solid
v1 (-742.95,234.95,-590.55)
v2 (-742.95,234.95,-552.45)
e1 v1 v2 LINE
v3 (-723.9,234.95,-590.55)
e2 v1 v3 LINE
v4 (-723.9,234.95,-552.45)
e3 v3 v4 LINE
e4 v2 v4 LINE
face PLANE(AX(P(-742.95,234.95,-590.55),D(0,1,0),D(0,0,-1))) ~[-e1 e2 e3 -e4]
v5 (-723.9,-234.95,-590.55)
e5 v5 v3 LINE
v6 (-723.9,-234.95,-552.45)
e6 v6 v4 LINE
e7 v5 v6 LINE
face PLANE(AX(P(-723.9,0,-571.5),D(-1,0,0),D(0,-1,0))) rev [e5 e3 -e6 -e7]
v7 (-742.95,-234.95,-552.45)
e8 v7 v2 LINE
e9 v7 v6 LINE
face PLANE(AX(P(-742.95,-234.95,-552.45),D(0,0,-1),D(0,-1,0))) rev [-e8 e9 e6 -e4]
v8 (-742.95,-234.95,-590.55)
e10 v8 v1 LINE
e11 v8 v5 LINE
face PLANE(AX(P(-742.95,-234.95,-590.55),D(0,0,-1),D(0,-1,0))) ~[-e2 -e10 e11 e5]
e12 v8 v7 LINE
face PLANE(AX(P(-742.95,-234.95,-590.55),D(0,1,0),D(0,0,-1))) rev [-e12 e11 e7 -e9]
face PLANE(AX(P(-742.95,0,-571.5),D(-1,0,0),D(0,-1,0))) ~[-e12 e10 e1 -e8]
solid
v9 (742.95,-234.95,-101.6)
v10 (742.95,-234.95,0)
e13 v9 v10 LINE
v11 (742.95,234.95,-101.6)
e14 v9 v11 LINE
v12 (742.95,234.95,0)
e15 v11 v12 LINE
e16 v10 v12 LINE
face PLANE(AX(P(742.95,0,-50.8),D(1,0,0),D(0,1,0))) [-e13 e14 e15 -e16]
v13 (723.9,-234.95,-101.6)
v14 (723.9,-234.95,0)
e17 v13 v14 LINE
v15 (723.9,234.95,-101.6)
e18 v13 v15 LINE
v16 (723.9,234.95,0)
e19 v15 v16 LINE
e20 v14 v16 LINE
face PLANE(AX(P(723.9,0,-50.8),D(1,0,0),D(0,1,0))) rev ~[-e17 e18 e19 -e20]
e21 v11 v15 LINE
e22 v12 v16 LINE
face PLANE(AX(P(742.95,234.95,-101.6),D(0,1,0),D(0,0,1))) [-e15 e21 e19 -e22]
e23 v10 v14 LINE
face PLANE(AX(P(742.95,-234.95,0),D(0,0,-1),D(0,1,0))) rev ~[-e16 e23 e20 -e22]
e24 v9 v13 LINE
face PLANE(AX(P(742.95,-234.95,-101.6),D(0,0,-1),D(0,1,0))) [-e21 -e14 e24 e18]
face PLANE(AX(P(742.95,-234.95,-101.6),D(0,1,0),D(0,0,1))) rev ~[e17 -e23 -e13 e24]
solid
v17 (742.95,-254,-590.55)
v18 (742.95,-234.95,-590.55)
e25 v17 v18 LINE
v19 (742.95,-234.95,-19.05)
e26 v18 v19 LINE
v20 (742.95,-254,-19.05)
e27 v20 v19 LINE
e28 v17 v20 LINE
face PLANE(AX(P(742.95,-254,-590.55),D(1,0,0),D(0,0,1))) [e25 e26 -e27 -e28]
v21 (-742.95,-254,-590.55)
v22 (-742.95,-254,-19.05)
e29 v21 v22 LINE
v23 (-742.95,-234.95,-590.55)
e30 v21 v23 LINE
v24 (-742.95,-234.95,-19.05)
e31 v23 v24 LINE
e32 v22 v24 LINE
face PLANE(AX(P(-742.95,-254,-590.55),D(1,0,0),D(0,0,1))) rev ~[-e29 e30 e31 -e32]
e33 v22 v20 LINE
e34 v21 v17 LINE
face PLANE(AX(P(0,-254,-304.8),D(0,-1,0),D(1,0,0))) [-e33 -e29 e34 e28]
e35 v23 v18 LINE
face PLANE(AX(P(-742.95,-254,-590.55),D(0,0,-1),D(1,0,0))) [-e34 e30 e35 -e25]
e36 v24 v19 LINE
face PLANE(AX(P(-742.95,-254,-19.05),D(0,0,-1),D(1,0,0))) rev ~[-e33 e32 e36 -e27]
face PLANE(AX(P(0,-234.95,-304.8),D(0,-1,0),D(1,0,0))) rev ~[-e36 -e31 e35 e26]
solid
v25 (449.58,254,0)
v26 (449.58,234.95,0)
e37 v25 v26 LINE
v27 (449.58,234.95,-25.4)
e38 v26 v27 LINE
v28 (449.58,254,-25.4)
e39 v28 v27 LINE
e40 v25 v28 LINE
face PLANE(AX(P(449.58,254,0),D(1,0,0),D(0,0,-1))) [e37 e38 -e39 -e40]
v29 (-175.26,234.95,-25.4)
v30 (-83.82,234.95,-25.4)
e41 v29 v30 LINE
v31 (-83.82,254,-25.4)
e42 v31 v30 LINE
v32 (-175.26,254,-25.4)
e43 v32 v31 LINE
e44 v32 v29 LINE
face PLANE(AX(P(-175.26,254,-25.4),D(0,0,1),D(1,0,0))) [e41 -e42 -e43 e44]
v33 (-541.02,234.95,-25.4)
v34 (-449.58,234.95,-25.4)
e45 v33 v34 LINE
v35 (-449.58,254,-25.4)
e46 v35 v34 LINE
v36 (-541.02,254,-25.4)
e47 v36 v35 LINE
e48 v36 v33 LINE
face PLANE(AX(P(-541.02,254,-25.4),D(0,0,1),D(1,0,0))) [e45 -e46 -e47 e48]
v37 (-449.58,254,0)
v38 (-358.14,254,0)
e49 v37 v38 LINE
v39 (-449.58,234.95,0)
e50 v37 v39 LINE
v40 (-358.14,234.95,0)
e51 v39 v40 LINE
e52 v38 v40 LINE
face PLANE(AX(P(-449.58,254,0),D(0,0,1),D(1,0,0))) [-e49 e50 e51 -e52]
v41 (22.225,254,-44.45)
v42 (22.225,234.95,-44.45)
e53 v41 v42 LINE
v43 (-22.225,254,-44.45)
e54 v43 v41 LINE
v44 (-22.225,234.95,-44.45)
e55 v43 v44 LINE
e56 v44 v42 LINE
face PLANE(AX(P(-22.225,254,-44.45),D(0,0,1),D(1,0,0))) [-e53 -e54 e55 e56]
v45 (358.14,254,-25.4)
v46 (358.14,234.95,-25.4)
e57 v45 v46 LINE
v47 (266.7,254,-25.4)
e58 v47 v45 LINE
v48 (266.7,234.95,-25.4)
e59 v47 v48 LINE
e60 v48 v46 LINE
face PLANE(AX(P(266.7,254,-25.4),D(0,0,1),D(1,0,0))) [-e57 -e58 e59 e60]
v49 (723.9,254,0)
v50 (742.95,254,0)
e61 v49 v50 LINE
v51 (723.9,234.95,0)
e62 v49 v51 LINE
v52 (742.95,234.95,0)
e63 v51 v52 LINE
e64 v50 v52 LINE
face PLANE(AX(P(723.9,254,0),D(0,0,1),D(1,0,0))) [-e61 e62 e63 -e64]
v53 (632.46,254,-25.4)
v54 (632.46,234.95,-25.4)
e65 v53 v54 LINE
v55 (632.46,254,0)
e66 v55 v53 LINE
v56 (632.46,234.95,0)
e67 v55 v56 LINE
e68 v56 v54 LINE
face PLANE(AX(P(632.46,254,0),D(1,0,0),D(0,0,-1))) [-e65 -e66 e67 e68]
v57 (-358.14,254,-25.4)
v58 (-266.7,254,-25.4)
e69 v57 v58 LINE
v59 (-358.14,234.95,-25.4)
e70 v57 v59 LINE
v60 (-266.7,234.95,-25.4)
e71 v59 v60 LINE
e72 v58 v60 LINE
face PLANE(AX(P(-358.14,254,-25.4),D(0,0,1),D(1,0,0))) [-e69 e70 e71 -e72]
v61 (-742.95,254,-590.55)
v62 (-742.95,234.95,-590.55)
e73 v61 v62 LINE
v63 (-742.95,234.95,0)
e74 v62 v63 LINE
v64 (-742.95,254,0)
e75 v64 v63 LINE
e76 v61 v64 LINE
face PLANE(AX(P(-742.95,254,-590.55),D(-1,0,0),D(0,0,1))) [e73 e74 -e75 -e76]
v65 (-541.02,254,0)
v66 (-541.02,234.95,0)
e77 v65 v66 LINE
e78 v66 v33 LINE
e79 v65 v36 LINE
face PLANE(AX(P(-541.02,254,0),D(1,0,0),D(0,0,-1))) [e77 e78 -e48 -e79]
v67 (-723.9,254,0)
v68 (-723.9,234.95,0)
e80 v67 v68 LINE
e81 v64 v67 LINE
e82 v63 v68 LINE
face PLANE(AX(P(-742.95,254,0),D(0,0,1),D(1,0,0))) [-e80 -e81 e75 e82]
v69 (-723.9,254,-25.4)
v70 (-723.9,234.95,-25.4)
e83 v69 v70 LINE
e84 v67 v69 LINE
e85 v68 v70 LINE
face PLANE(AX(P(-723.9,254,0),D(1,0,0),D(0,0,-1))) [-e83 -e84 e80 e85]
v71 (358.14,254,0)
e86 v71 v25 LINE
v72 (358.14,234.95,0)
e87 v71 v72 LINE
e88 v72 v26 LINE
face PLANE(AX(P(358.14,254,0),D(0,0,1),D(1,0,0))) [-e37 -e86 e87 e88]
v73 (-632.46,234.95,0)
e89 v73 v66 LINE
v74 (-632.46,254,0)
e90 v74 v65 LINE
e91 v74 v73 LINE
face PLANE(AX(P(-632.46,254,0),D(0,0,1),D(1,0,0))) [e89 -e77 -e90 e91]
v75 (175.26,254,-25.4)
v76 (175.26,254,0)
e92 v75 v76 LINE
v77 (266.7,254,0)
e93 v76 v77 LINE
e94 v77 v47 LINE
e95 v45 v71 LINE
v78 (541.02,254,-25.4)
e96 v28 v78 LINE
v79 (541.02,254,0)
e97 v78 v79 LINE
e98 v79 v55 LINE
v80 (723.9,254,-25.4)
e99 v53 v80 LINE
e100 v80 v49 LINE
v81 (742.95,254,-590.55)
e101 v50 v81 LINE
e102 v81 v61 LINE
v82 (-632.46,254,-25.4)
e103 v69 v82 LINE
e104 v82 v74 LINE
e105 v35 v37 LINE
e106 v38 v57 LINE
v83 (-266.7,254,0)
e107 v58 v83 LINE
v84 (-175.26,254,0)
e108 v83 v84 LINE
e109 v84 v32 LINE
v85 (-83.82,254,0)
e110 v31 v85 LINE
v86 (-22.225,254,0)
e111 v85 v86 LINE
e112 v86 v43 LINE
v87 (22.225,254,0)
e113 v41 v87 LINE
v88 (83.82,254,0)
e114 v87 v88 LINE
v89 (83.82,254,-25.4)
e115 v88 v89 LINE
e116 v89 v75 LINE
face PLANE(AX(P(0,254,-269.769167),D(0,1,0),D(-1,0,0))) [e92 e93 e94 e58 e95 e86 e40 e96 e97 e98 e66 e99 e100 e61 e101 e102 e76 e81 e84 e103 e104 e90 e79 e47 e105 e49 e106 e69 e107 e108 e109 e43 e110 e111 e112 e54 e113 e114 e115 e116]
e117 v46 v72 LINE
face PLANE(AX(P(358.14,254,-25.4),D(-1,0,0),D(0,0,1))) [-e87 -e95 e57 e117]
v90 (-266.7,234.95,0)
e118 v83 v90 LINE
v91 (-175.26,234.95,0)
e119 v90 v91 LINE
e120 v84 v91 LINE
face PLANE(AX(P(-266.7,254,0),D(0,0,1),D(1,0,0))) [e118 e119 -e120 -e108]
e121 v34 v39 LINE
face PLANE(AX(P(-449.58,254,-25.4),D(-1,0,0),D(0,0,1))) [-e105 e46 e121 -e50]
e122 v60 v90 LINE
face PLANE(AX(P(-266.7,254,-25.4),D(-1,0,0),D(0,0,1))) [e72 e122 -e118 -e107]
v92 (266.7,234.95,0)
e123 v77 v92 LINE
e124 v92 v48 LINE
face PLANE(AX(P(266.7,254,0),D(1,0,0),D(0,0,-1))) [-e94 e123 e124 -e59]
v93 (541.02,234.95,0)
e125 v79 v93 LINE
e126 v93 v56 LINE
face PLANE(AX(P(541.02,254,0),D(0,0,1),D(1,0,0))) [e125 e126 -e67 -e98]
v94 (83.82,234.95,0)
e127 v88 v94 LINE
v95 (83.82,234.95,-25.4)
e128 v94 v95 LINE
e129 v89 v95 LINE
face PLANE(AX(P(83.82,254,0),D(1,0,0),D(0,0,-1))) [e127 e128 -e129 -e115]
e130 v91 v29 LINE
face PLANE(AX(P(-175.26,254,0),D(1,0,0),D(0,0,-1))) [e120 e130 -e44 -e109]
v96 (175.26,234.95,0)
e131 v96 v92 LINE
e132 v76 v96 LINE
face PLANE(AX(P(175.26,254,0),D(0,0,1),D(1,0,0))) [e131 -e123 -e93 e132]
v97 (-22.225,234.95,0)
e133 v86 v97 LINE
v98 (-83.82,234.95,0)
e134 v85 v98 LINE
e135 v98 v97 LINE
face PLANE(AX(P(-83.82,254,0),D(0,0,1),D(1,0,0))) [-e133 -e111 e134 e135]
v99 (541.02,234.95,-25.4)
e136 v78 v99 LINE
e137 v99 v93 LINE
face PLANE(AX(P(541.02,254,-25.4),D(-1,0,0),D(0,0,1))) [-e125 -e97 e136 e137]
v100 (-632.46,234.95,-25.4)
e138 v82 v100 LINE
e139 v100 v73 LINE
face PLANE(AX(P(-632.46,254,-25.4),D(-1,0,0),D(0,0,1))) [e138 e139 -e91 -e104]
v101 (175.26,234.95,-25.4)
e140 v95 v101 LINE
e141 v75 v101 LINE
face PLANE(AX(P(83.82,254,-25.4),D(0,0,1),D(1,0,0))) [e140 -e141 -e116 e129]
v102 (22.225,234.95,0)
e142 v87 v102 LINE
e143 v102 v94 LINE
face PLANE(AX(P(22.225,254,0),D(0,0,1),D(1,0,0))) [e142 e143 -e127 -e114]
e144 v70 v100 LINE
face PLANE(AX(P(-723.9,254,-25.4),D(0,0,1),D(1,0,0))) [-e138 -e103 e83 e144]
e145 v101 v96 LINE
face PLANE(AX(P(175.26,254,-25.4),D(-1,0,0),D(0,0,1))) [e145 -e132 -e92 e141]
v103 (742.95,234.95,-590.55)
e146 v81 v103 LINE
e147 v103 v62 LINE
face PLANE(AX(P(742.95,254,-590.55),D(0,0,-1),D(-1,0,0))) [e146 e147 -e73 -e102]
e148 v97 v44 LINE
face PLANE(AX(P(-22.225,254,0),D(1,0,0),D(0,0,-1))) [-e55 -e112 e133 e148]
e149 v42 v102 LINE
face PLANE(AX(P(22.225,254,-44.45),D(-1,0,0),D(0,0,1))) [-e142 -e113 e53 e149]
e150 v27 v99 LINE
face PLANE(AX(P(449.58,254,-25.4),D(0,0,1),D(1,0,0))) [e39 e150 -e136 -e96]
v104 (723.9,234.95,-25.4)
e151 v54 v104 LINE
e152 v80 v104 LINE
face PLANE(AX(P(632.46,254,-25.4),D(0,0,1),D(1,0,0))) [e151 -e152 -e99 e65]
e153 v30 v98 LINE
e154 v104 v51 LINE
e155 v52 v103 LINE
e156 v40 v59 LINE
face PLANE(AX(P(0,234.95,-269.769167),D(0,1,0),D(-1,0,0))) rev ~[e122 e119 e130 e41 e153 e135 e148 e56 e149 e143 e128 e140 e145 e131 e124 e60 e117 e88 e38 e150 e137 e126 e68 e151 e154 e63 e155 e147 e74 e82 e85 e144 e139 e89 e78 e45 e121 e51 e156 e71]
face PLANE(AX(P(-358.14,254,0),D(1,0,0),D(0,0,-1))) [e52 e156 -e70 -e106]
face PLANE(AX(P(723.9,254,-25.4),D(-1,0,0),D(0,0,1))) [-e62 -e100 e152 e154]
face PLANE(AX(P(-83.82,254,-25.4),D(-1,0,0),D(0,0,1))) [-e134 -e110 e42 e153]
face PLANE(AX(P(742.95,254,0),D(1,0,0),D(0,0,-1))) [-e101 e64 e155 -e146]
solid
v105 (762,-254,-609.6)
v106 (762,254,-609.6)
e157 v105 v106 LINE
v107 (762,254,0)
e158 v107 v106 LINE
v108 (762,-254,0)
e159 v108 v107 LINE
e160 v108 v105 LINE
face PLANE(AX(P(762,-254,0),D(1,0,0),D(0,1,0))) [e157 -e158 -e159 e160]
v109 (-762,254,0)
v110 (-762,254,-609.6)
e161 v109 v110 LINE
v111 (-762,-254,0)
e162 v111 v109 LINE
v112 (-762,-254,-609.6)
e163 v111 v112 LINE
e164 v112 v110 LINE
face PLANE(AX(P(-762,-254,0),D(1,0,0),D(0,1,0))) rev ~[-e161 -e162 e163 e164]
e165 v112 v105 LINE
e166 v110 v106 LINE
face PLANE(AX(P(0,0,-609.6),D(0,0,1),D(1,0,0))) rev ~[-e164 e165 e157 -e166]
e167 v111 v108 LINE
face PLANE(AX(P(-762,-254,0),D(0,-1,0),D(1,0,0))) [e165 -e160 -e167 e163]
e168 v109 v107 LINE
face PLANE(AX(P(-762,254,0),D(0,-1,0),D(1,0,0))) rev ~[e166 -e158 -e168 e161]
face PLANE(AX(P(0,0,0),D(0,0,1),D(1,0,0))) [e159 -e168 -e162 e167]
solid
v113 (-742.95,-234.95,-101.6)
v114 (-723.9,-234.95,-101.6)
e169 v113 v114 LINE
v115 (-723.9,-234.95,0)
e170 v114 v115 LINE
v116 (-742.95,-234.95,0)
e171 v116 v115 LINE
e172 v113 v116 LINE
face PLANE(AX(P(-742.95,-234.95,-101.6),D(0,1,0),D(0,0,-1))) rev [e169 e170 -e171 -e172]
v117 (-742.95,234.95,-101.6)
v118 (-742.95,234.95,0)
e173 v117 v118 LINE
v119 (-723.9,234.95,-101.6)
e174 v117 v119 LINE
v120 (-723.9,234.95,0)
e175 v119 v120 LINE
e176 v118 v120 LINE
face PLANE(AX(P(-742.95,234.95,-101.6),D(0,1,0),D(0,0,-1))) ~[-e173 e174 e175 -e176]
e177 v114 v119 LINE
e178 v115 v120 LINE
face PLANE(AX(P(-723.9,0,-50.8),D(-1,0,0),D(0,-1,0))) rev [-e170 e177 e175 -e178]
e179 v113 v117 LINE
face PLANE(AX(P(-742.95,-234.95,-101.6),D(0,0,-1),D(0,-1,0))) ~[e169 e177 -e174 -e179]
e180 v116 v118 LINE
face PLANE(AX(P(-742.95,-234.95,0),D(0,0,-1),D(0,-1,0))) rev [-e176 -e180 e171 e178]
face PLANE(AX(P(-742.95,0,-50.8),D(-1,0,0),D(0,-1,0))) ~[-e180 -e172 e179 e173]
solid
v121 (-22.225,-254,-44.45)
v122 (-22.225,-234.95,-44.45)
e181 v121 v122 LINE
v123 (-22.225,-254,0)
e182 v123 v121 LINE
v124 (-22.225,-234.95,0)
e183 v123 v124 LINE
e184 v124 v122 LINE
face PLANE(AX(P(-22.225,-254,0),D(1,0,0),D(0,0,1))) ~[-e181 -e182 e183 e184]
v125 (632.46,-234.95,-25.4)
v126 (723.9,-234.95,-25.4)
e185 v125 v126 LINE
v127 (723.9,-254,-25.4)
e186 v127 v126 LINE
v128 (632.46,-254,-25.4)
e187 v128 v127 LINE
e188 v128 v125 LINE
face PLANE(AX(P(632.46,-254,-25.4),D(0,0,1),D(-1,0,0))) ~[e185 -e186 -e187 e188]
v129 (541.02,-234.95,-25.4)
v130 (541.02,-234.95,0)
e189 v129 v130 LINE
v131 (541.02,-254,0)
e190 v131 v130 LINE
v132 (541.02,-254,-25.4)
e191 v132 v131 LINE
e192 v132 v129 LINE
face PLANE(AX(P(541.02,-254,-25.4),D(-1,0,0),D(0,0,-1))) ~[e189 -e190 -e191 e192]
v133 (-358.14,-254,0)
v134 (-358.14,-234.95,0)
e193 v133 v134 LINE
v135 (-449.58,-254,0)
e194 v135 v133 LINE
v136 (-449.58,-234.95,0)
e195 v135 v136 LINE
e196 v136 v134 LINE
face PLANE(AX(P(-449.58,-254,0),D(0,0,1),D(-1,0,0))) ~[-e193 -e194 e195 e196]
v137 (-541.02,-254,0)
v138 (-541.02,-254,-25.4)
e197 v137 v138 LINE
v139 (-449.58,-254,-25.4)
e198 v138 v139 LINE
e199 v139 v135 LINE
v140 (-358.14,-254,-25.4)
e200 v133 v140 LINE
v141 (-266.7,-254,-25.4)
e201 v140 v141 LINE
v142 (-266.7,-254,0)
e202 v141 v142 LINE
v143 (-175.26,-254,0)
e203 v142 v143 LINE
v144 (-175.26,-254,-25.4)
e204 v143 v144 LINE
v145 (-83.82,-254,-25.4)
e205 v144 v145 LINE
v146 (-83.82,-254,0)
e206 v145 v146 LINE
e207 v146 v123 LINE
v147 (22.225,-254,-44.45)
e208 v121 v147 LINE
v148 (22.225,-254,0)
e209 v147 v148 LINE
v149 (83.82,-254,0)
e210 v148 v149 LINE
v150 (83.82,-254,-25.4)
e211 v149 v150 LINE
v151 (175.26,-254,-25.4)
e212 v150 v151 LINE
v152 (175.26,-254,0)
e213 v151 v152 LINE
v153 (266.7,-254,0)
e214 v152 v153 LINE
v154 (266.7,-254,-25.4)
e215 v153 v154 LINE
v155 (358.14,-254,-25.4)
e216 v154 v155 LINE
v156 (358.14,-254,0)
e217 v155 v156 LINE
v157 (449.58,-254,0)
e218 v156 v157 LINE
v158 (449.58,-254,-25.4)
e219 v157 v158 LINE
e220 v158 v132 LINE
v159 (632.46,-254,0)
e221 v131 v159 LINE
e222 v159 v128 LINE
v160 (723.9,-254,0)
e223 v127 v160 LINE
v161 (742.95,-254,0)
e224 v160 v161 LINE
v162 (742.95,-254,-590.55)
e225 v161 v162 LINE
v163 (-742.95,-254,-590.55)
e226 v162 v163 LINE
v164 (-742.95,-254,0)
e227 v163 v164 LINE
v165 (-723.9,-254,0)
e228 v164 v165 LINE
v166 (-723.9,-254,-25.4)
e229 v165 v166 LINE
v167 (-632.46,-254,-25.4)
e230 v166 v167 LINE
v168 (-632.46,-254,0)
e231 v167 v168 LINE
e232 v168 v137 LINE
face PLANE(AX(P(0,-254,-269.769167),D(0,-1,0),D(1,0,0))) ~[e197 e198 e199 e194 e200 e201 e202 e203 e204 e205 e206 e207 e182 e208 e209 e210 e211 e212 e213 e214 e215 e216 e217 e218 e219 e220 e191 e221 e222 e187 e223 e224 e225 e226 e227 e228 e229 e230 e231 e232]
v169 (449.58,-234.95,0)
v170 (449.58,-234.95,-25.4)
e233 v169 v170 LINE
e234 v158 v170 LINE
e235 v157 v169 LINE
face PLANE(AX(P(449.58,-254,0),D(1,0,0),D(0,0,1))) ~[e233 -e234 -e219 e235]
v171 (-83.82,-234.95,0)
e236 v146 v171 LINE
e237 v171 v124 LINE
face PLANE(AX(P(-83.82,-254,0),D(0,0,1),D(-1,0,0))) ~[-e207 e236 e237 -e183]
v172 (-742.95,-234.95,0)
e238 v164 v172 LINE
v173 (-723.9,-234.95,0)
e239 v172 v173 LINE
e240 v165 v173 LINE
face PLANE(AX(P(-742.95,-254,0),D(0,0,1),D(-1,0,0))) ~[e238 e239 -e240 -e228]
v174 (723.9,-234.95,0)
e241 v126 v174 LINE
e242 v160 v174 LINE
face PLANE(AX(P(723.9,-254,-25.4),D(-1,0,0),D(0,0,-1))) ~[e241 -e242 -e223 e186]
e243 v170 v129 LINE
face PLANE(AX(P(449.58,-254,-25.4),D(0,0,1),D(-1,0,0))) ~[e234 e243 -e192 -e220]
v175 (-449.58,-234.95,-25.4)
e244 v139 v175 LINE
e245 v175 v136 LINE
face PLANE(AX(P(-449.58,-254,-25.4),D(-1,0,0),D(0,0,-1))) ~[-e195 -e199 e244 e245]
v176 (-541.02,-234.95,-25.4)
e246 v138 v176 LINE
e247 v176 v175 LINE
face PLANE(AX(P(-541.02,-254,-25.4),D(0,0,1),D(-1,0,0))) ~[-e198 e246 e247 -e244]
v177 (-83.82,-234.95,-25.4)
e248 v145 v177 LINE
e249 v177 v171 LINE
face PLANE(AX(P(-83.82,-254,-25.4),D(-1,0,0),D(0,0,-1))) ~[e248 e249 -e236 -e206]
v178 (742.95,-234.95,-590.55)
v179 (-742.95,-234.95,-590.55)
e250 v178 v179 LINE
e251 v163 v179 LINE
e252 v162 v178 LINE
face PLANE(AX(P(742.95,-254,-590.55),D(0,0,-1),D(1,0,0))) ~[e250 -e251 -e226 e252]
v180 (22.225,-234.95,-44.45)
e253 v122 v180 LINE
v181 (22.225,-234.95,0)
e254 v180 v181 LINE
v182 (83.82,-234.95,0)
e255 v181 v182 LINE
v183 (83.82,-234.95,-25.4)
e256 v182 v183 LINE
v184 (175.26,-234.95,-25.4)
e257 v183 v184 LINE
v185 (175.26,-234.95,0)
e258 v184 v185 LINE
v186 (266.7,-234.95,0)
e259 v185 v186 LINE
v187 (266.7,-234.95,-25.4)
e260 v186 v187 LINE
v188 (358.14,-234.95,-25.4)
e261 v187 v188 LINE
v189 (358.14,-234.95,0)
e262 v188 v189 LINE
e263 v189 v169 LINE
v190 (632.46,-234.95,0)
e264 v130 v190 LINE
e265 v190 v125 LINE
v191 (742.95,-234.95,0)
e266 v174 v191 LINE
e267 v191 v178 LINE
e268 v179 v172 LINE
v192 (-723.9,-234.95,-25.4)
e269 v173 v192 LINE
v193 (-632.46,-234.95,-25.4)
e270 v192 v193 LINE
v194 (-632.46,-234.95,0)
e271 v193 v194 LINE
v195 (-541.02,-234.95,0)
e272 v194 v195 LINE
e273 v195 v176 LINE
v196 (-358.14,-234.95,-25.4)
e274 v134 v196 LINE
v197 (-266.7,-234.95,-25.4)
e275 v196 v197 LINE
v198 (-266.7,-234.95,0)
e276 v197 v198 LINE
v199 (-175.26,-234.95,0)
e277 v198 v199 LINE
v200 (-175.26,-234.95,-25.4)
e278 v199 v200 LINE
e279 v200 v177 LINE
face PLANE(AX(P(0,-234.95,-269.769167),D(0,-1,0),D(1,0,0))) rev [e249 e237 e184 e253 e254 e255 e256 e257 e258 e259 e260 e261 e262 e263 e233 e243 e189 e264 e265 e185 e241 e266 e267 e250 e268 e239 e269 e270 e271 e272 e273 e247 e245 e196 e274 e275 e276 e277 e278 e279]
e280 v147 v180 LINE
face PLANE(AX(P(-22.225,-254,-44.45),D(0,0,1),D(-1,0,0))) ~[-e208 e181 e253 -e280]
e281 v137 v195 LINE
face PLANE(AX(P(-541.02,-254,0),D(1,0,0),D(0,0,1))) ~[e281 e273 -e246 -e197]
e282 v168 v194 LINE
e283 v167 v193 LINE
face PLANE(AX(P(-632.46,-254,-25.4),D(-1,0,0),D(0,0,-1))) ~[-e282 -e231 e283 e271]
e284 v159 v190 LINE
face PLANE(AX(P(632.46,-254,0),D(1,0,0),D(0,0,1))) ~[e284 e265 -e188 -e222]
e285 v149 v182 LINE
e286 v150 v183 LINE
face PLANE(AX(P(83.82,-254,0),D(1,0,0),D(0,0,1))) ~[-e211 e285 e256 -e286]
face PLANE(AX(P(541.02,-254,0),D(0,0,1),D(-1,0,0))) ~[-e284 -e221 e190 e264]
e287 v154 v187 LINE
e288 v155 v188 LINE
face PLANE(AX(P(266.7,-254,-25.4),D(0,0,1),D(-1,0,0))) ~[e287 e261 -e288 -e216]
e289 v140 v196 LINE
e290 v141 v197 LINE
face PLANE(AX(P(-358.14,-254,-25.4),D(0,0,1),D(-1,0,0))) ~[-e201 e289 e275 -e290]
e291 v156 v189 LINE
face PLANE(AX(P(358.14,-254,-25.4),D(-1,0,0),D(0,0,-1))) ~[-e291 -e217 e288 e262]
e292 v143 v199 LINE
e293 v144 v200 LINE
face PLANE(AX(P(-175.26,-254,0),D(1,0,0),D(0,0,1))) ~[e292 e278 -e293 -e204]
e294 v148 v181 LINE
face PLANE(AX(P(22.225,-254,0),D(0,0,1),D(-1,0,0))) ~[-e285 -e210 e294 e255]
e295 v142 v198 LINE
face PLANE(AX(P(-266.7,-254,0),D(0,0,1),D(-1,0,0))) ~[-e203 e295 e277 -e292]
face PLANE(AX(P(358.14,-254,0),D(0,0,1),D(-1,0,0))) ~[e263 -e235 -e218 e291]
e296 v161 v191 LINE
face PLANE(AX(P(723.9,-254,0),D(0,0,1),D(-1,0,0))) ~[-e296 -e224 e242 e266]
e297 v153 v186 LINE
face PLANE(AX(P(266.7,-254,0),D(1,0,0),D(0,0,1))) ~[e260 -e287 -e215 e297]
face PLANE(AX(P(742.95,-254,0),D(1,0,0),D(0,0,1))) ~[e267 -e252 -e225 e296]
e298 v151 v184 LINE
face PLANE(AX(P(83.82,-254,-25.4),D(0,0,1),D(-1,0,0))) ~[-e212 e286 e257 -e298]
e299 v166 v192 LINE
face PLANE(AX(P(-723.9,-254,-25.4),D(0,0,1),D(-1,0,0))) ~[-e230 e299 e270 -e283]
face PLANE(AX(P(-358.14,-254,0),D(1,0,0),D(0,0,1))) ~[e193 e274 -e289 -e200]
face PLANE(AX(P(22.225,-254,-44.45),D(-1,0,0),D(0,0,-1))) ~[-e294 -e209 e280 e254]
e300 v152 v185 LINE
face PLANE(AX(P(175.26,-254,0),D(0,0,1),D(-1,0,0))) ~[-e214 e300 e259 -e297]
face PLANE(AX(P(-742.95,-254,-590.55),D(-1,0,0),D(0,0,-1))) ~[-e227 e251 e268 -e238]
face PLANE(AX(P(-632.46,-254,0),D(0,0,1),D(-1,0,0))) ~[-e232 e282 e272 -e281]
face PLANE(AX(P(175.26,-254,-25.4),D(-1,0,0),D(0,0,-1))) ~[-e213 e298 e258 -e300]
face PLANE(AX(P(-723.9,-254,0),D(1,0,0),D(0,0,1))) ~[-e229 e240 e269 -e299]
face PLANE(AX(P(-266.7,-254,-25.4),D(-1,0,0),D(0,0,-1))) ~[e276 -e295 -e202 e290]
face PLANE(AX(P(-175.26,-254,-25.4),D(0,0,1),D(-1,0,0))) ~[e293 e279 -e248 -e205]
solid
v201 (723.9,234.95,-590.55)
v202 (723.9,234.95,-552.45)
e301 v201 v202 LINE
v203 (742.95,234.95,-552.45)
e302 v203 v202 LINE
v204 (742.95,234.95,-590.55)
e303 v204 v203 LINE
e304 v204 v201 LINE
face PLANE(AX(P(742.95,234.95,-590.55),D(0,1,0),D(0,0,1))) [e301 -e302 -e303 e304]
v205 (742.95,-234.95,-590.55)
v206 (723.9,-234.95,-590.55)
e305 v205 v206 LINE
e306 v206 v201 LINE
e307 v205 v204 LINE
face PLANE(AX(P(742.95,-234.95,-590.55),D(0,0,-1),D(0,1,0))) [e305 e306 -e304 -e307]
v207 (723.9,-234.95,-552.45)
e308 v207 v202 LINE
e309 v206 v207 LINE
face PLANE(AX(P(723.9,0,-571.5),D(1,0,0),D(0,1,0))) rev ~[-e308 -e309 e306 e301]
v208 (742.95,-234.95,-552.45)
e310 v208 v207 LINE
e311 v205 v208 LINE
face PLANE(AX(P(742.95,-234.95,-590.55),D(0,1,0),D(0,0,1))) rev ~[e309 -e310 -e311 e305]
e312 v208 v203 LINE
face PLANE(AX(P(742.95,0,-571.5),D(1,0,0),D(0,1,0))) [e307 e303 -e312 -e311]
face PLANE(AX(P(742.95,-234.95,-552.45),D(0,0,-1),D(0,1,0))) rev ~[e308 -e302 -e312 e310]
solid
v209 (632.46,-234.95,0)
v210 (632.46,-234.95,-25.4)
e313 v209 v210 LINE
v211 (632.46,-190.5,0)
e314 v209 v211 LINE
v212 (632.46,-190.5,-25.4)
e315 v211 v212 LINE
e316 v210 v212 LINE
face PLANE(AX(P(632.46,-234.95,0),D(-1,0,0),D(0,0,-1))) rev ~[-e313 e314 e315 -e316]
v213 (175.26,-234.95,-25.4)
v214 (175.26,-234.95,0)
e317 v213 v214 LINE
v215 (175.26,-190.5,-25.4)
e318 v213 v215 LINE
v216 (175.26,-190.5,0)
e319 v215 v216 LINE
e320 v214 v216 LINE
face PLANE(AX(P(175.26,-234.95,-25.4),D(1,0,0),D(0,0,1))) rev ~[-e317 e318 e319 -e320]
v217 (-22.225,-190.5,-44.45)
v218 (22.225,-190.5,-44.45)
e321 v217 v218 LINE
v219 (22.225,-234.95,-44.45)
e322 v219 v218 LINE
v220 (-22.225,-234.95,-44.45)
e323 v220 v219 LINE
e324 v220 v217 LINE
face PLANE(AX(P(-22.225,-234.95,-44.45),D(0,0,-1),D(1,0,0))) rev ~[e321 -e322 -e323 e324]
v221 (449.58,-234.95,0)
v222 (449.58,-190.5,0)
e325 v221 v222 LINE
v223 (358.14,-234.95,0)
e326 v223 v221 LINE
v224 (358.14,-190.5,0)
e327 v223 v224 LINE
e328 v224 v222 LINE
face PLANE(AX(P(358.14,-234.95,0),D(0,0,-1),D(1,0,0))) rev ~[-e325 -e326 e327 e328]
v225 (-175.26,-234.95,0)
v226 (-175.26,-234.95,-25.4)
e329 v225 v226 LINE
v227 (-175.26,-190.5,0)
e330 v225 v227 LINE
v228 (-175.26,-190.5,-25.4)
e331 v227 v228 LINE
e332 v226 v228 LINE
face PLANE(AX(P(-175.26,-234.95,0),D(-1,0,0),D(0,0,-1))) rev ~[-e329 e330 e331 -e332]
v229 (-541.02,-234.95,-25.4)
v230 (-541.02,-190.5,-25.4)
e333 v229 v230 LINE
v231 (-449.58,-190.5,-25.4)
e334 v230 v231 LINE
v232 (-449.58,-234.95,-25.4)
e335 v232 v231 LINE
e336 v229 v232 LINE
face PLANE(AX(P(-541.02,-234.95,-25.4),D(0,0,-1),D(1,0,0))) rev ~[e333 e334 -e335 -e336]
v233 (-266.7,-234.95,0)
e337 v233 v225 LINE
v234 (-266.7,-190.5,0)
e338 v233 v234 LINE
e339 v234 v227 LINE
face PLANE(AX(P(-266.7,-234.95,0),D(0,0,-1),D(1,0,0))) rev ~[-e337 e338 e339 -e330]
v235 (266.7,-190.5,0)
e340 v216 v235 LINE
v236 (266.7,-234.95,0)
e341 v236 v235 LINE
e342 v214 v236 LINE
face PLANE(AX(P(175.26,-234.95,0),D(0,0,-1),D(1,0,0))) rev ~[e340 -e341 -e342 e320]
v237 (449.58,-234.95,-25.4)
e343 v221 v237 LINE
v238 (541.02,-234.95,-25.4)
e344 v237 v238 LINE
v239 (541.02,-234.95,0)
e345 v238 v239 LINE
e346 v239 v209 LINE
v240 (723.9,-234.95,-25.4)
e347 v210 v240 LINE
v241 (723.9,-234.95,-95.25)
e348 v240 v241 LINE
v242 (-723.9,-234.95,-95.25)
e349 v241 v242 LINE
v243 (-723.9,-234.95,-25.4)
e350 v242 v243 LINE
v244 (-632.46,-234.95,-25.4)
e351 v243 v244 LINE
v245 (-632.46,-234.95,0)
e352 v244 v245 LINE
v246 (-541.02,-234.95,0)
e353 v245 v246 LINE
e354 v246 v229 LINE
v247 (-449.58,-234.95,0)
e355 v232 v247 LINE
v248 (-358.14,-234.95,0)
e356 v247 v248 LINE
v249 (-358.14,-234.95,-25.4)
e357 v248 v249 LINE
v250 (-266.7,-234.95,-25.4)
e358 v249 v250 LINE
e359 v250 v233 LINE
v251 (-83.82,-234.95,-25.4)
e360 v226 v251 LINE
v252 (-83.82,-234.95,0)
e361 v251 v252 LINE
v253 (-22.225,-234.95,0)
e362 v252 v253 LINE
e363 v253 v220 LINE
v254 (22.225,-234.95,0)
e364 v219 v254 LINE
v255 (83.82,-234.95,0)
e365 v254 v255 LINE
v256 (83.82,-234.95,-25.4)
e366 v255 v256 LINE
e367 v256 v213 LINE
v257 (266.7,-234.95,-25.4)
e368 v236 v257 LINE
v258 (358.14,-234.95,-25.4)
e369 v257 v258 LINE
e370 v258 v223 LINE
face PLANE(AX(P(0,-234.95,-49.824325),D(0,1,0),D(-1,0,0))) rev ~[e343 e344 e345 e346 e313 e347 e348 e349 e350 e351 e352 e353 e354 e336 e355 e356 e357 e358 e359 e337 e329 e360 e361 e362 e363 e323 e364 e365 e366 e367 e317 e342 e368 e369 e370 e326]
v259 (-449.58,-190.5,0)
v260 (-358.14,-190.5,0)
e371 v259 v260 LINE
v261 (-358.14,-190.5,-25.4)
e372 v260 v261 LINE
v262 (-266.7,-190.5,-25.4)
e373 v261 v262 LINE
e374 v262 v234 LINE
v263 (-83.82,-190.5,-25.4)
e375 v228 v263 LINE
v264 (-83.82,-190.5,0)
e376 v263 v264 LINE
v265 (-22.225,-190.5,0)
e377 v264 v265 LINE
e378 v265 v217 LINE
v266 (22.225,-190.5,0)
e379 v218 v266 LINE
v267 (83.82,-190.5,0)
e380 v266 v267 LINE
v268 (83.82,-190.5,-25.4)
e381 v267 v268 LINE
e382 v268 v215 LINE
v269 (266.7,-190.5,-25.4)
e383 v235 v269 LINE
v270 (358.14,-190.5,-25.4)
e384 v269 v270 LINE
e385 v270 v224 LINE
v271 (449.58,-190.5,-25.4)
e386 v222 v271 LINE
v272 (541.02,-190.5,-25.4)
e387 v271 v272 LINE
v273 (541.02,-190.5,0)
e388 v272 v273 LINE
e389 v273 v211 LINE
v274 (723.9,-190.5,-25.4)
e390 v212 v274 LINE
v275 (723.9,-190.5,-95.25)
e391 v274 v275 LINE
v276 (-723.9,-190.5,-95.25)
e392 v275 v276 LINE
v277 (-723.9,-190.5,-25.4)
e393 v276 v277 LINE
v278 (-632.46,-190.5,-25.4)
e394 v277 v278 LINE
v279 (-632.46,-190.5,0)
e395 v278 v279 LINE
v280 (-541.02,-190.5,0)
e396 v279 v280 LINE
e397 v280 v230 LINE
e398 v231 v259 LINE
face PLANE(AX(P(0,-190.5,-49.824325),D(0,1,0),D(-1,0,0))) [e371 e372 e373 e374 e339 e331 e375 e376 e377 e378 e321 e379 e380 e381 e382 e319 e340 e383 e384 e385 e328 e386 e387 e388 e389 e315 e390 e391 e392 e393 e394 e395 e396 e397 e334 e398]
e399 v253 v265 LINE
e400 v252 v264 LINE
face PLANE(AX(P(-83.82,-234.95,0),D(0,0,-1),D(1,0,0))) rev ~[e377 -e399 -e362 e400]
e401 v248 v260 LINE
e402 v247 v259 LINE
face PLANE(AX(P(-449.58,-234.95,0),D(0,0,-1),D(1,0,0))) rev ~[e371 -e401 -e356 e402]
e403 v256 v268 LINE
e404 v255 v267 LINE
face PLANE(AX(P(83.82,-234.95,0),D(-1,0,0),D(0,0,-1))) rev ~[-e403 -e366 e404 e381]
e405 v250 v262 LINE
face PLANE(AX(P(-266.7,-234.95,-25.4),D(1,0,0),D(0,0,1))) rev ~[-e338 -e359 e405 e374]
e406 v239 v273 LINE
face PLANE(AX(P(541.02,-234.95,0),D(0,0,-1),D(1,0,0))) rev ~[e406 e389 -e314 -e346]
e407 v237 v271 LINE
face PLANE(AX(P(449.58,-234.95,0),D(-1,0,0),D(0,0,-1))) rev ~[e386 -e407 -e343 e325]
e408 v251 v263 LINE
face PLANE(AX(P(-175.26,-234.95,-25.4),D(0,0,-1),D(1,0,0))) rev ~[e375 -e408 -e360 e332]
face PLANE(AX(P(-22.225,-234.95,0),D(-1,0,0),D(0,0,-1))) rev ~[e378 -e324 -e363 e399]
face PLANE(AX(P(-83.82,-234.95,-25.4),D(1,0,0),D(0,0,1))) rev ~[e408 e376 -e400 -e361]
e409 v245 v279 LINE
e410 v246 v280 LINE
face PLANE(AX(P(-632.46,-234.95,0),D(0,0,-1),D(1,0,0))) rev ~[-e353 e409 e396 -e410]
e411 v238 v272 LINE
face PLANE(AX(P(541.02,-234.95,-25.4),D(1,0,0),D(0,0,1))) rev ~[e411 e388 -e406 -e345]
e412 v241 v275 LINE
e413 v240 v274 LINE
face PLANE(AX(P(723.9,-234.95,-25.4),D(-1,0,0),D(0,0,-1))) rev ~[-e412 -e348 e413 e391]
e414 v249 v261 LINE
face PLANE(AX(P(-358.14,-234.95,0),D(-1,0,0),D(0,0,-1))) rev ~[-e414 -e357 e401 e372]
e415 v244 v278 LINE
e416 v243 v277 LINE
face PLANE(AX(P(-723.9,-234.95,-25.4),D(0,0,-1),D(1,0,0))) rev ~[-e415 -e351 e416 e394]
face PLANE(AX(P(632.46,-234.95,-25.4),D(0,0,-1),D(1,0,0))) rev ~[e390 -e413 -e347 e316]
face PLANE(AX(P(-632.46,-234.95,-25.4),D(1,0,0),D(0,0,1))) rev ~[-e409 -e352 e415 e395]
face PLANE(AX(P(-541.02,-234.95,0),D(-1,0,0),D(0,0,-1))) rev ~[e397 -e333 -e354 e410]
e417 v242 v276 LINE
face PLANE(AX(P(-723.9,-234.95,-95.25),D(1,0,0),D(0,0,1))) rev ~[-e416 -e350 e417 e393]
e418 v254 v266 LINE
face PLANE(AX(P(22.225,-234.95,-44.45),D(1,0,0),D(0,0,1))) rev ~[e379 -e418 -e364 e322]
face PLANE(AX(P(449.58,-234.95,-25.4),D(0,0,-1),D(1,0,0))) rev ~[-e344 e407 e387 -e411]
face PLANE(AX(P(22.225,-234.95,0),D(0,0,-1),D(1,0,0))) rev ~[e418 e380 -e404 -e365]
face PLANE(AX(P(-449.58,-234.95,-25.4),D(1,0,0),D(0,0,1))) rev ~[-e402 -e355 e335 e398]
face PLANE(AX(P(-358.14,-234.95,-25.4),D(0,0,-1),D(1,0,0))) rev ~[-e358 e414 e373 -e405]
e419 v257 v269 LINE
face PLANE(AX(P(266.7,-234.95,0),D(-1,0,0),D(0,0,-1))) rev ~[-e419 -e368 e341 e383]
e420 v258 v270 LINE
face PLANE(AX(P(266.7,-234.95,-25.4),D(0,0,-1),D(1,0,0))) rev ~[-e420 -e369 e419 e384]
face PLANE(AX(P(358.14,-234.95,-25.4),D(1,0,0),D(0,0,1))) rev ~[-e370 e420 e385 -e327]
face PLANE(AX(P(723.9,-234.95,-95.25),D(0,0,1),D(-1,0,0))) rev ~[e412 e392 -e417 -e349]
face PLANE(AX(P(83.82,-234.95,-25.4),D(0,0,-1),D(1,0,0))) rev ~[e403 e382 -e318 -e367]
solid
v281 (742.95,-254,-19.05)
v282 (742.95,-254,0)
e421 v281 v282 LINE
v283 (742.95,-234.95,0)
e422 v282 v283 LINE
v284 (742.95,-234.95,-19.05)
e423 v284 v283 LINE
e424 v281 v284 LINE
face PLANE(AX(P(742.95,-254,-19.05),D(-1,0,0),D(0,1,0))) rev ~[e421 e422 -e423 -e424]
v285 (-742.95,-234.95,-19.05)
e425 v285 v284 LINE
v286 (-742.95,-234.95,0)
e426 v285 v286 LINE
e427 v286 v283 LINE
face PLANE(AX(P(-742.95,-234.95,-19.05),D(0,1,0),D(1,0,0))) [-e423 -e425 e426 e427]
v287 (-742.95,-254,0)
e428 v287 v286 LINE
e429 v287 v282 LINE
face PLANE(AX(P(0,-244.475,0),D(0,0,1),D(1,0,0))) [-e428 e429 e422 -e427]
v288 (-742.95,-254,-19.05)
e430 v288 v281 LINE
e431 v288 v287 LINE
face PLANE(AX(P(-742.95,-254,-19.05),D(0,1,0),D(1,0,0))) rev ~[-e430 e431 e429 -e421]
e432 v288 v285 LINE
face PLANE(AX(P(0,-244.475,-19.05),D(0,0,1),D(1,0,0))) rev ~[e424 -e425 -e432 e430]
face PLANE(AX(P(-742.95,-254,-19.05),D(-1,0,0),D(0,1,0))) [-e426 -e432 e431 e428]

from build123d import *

# Parameters (mm, degrees)
F0_W      = 1524
F0_H      = 508
F1_DEPTH  = 609.6
F2_W      = 1485.9
F2_H      = 571.5
F3_DEPTH  = 19.05
F5_DEPTH  = 44.45
F7_DEPTH  = 19.05
F8_W      = 469.9
F8_H      = 101.6
F8_H_2    = 38.1
F9_DEPTH  = 19.05
F11_W     = 1485.9
F11_H     = 19.05
F12_DEPTH = 19.05


with BuildPart() as f1:
    # F0 (on Top) → F1 (new body)
    with BuildSketch(Plane.XY):
        Rectangle(F0_W, F0_H)
    extrude(amount=-F1_DEPTH)


with BuildPart() as f3:
    # F2 (on face) → F3 (new body)
    with BuildSketch(Plane.XZ.offset(254)):
        with Locations((0, -304.8)):
            Rectangle(F2_W, F2_H)
    extrude(amount=-F3_DEPTH)


with BuildPart() as f5:
    # F4 (on face) → F5 (new body)
    with BuildSketch(Plane(origin=(0, -234.95, 0), x_dir=(-1, 0, 0), z_dir=(0, 1, 0))):
        Polygon((-723.9, -25.4), (-723.9, -95.25), (723.9, -95.25), (723.9, -25.4), (632.46, -25.4), (632.46, 0), (541.02, 0), (541.02, -25.4), (449.58, -25.4), (449.58, 0), (358.14, 0), (358.14, -25.4), (266.7, -25.4), (266.7, 0), (175.26, 0), (175.26, -25.4), (83.82, -25.4), (83.82, 0), (22.225, 0), (22.225, -44.45), (-22.225, -44.45), (-22.225, 0), (-83.82, 0), (-83.82, -25.4), (-175.26, -25.4), (-175.26, 0), (-266.7, 0), (-266.7, -25.4), (-358.14, -25.4), (-358.14, 0), (-449.58, 0), (-449.58, -25.4), (-541.02, -25.4), (-541.02, 0), (-632.46, 0), (-632.46, -25.4), align=None)
    extrude(amount=F5_DEPTH)


with BuildPart() as f7:
    # F6 (on face) → F7 (new body)
    with BuildSketch(Plane(origin=(0, 254, 0), x_dir=(-1, 0, 0), z_dir=(0, 1, 0))):
        Polygon((-742.95, 0), (-742.95, -590.55), (742.95, -590.55), (742.95, 0), (723.9, 0), (723.9, -25.4), (632.46, -25.4), (632.46, 0), (541.02, 0), (541.02, -25.4), (449.58, -25.4), (449.58, 0), (358.14, 0), (358.14, -25.4), (266.7, -25.4), (266.7, 0), (175.26, 0), (175.26, -25.4), (83.82, -25.4), (83.82, 0), (22.225, 0), (22.225, -44.45), (-22.225, -44.45), (-22.225, 0), (-83.82, 0), (-83.82, -25.4), (-175.26, -25.4), (-175.26, 0), (-266.7, 0), (-266.7, -25.4), (-358.14, -25.4), (-358.14, 0), (-449.58, 0), (-449.58, -25.4), (-541.02, -25.4), (-541.02, 0), (-632.46, 0), (-632.46, -25.4), (-723.9, -25.4), (-723.9, 0), align=None)
    extrude(amount=-F7_DEPTH)


with BuildPart() as f9:
    # F8 (on face) → F9 (new body)
    with BuildSketch(Plane.YZ.offset(742.95)):
        with Locations((0, -50.8)):
            Rectangle(F8_W, F8_H)
        with Locations((0, -571.5)):
            Rectangle(F8_W, F8_H_2)
    extrude(amount=-F9_DEPTH)


with BuildPart() as f10_1:
    # F10: instance of F9
    add(f9.part.mirror(Plane.YZ))


with BuildPart() as f12:
    # F11 (on face) → F12 (new body)
    with BuildSketch(Plane.XY.offset(-19.05)):
        with Locations((0, -244.475)):
            Rectangle(F11_W, F11_H)
    extrude(amount=F12_DEPTH)


with BuildPart() as f13_1:
    # F13: instance of F7
    add(f7.part.mirror(Plane.XZ))


solid = Compound([f1.part, f3.part, f5.part, f7.part, f9.part, f10_1.part, f12.part, f13_1.part])
